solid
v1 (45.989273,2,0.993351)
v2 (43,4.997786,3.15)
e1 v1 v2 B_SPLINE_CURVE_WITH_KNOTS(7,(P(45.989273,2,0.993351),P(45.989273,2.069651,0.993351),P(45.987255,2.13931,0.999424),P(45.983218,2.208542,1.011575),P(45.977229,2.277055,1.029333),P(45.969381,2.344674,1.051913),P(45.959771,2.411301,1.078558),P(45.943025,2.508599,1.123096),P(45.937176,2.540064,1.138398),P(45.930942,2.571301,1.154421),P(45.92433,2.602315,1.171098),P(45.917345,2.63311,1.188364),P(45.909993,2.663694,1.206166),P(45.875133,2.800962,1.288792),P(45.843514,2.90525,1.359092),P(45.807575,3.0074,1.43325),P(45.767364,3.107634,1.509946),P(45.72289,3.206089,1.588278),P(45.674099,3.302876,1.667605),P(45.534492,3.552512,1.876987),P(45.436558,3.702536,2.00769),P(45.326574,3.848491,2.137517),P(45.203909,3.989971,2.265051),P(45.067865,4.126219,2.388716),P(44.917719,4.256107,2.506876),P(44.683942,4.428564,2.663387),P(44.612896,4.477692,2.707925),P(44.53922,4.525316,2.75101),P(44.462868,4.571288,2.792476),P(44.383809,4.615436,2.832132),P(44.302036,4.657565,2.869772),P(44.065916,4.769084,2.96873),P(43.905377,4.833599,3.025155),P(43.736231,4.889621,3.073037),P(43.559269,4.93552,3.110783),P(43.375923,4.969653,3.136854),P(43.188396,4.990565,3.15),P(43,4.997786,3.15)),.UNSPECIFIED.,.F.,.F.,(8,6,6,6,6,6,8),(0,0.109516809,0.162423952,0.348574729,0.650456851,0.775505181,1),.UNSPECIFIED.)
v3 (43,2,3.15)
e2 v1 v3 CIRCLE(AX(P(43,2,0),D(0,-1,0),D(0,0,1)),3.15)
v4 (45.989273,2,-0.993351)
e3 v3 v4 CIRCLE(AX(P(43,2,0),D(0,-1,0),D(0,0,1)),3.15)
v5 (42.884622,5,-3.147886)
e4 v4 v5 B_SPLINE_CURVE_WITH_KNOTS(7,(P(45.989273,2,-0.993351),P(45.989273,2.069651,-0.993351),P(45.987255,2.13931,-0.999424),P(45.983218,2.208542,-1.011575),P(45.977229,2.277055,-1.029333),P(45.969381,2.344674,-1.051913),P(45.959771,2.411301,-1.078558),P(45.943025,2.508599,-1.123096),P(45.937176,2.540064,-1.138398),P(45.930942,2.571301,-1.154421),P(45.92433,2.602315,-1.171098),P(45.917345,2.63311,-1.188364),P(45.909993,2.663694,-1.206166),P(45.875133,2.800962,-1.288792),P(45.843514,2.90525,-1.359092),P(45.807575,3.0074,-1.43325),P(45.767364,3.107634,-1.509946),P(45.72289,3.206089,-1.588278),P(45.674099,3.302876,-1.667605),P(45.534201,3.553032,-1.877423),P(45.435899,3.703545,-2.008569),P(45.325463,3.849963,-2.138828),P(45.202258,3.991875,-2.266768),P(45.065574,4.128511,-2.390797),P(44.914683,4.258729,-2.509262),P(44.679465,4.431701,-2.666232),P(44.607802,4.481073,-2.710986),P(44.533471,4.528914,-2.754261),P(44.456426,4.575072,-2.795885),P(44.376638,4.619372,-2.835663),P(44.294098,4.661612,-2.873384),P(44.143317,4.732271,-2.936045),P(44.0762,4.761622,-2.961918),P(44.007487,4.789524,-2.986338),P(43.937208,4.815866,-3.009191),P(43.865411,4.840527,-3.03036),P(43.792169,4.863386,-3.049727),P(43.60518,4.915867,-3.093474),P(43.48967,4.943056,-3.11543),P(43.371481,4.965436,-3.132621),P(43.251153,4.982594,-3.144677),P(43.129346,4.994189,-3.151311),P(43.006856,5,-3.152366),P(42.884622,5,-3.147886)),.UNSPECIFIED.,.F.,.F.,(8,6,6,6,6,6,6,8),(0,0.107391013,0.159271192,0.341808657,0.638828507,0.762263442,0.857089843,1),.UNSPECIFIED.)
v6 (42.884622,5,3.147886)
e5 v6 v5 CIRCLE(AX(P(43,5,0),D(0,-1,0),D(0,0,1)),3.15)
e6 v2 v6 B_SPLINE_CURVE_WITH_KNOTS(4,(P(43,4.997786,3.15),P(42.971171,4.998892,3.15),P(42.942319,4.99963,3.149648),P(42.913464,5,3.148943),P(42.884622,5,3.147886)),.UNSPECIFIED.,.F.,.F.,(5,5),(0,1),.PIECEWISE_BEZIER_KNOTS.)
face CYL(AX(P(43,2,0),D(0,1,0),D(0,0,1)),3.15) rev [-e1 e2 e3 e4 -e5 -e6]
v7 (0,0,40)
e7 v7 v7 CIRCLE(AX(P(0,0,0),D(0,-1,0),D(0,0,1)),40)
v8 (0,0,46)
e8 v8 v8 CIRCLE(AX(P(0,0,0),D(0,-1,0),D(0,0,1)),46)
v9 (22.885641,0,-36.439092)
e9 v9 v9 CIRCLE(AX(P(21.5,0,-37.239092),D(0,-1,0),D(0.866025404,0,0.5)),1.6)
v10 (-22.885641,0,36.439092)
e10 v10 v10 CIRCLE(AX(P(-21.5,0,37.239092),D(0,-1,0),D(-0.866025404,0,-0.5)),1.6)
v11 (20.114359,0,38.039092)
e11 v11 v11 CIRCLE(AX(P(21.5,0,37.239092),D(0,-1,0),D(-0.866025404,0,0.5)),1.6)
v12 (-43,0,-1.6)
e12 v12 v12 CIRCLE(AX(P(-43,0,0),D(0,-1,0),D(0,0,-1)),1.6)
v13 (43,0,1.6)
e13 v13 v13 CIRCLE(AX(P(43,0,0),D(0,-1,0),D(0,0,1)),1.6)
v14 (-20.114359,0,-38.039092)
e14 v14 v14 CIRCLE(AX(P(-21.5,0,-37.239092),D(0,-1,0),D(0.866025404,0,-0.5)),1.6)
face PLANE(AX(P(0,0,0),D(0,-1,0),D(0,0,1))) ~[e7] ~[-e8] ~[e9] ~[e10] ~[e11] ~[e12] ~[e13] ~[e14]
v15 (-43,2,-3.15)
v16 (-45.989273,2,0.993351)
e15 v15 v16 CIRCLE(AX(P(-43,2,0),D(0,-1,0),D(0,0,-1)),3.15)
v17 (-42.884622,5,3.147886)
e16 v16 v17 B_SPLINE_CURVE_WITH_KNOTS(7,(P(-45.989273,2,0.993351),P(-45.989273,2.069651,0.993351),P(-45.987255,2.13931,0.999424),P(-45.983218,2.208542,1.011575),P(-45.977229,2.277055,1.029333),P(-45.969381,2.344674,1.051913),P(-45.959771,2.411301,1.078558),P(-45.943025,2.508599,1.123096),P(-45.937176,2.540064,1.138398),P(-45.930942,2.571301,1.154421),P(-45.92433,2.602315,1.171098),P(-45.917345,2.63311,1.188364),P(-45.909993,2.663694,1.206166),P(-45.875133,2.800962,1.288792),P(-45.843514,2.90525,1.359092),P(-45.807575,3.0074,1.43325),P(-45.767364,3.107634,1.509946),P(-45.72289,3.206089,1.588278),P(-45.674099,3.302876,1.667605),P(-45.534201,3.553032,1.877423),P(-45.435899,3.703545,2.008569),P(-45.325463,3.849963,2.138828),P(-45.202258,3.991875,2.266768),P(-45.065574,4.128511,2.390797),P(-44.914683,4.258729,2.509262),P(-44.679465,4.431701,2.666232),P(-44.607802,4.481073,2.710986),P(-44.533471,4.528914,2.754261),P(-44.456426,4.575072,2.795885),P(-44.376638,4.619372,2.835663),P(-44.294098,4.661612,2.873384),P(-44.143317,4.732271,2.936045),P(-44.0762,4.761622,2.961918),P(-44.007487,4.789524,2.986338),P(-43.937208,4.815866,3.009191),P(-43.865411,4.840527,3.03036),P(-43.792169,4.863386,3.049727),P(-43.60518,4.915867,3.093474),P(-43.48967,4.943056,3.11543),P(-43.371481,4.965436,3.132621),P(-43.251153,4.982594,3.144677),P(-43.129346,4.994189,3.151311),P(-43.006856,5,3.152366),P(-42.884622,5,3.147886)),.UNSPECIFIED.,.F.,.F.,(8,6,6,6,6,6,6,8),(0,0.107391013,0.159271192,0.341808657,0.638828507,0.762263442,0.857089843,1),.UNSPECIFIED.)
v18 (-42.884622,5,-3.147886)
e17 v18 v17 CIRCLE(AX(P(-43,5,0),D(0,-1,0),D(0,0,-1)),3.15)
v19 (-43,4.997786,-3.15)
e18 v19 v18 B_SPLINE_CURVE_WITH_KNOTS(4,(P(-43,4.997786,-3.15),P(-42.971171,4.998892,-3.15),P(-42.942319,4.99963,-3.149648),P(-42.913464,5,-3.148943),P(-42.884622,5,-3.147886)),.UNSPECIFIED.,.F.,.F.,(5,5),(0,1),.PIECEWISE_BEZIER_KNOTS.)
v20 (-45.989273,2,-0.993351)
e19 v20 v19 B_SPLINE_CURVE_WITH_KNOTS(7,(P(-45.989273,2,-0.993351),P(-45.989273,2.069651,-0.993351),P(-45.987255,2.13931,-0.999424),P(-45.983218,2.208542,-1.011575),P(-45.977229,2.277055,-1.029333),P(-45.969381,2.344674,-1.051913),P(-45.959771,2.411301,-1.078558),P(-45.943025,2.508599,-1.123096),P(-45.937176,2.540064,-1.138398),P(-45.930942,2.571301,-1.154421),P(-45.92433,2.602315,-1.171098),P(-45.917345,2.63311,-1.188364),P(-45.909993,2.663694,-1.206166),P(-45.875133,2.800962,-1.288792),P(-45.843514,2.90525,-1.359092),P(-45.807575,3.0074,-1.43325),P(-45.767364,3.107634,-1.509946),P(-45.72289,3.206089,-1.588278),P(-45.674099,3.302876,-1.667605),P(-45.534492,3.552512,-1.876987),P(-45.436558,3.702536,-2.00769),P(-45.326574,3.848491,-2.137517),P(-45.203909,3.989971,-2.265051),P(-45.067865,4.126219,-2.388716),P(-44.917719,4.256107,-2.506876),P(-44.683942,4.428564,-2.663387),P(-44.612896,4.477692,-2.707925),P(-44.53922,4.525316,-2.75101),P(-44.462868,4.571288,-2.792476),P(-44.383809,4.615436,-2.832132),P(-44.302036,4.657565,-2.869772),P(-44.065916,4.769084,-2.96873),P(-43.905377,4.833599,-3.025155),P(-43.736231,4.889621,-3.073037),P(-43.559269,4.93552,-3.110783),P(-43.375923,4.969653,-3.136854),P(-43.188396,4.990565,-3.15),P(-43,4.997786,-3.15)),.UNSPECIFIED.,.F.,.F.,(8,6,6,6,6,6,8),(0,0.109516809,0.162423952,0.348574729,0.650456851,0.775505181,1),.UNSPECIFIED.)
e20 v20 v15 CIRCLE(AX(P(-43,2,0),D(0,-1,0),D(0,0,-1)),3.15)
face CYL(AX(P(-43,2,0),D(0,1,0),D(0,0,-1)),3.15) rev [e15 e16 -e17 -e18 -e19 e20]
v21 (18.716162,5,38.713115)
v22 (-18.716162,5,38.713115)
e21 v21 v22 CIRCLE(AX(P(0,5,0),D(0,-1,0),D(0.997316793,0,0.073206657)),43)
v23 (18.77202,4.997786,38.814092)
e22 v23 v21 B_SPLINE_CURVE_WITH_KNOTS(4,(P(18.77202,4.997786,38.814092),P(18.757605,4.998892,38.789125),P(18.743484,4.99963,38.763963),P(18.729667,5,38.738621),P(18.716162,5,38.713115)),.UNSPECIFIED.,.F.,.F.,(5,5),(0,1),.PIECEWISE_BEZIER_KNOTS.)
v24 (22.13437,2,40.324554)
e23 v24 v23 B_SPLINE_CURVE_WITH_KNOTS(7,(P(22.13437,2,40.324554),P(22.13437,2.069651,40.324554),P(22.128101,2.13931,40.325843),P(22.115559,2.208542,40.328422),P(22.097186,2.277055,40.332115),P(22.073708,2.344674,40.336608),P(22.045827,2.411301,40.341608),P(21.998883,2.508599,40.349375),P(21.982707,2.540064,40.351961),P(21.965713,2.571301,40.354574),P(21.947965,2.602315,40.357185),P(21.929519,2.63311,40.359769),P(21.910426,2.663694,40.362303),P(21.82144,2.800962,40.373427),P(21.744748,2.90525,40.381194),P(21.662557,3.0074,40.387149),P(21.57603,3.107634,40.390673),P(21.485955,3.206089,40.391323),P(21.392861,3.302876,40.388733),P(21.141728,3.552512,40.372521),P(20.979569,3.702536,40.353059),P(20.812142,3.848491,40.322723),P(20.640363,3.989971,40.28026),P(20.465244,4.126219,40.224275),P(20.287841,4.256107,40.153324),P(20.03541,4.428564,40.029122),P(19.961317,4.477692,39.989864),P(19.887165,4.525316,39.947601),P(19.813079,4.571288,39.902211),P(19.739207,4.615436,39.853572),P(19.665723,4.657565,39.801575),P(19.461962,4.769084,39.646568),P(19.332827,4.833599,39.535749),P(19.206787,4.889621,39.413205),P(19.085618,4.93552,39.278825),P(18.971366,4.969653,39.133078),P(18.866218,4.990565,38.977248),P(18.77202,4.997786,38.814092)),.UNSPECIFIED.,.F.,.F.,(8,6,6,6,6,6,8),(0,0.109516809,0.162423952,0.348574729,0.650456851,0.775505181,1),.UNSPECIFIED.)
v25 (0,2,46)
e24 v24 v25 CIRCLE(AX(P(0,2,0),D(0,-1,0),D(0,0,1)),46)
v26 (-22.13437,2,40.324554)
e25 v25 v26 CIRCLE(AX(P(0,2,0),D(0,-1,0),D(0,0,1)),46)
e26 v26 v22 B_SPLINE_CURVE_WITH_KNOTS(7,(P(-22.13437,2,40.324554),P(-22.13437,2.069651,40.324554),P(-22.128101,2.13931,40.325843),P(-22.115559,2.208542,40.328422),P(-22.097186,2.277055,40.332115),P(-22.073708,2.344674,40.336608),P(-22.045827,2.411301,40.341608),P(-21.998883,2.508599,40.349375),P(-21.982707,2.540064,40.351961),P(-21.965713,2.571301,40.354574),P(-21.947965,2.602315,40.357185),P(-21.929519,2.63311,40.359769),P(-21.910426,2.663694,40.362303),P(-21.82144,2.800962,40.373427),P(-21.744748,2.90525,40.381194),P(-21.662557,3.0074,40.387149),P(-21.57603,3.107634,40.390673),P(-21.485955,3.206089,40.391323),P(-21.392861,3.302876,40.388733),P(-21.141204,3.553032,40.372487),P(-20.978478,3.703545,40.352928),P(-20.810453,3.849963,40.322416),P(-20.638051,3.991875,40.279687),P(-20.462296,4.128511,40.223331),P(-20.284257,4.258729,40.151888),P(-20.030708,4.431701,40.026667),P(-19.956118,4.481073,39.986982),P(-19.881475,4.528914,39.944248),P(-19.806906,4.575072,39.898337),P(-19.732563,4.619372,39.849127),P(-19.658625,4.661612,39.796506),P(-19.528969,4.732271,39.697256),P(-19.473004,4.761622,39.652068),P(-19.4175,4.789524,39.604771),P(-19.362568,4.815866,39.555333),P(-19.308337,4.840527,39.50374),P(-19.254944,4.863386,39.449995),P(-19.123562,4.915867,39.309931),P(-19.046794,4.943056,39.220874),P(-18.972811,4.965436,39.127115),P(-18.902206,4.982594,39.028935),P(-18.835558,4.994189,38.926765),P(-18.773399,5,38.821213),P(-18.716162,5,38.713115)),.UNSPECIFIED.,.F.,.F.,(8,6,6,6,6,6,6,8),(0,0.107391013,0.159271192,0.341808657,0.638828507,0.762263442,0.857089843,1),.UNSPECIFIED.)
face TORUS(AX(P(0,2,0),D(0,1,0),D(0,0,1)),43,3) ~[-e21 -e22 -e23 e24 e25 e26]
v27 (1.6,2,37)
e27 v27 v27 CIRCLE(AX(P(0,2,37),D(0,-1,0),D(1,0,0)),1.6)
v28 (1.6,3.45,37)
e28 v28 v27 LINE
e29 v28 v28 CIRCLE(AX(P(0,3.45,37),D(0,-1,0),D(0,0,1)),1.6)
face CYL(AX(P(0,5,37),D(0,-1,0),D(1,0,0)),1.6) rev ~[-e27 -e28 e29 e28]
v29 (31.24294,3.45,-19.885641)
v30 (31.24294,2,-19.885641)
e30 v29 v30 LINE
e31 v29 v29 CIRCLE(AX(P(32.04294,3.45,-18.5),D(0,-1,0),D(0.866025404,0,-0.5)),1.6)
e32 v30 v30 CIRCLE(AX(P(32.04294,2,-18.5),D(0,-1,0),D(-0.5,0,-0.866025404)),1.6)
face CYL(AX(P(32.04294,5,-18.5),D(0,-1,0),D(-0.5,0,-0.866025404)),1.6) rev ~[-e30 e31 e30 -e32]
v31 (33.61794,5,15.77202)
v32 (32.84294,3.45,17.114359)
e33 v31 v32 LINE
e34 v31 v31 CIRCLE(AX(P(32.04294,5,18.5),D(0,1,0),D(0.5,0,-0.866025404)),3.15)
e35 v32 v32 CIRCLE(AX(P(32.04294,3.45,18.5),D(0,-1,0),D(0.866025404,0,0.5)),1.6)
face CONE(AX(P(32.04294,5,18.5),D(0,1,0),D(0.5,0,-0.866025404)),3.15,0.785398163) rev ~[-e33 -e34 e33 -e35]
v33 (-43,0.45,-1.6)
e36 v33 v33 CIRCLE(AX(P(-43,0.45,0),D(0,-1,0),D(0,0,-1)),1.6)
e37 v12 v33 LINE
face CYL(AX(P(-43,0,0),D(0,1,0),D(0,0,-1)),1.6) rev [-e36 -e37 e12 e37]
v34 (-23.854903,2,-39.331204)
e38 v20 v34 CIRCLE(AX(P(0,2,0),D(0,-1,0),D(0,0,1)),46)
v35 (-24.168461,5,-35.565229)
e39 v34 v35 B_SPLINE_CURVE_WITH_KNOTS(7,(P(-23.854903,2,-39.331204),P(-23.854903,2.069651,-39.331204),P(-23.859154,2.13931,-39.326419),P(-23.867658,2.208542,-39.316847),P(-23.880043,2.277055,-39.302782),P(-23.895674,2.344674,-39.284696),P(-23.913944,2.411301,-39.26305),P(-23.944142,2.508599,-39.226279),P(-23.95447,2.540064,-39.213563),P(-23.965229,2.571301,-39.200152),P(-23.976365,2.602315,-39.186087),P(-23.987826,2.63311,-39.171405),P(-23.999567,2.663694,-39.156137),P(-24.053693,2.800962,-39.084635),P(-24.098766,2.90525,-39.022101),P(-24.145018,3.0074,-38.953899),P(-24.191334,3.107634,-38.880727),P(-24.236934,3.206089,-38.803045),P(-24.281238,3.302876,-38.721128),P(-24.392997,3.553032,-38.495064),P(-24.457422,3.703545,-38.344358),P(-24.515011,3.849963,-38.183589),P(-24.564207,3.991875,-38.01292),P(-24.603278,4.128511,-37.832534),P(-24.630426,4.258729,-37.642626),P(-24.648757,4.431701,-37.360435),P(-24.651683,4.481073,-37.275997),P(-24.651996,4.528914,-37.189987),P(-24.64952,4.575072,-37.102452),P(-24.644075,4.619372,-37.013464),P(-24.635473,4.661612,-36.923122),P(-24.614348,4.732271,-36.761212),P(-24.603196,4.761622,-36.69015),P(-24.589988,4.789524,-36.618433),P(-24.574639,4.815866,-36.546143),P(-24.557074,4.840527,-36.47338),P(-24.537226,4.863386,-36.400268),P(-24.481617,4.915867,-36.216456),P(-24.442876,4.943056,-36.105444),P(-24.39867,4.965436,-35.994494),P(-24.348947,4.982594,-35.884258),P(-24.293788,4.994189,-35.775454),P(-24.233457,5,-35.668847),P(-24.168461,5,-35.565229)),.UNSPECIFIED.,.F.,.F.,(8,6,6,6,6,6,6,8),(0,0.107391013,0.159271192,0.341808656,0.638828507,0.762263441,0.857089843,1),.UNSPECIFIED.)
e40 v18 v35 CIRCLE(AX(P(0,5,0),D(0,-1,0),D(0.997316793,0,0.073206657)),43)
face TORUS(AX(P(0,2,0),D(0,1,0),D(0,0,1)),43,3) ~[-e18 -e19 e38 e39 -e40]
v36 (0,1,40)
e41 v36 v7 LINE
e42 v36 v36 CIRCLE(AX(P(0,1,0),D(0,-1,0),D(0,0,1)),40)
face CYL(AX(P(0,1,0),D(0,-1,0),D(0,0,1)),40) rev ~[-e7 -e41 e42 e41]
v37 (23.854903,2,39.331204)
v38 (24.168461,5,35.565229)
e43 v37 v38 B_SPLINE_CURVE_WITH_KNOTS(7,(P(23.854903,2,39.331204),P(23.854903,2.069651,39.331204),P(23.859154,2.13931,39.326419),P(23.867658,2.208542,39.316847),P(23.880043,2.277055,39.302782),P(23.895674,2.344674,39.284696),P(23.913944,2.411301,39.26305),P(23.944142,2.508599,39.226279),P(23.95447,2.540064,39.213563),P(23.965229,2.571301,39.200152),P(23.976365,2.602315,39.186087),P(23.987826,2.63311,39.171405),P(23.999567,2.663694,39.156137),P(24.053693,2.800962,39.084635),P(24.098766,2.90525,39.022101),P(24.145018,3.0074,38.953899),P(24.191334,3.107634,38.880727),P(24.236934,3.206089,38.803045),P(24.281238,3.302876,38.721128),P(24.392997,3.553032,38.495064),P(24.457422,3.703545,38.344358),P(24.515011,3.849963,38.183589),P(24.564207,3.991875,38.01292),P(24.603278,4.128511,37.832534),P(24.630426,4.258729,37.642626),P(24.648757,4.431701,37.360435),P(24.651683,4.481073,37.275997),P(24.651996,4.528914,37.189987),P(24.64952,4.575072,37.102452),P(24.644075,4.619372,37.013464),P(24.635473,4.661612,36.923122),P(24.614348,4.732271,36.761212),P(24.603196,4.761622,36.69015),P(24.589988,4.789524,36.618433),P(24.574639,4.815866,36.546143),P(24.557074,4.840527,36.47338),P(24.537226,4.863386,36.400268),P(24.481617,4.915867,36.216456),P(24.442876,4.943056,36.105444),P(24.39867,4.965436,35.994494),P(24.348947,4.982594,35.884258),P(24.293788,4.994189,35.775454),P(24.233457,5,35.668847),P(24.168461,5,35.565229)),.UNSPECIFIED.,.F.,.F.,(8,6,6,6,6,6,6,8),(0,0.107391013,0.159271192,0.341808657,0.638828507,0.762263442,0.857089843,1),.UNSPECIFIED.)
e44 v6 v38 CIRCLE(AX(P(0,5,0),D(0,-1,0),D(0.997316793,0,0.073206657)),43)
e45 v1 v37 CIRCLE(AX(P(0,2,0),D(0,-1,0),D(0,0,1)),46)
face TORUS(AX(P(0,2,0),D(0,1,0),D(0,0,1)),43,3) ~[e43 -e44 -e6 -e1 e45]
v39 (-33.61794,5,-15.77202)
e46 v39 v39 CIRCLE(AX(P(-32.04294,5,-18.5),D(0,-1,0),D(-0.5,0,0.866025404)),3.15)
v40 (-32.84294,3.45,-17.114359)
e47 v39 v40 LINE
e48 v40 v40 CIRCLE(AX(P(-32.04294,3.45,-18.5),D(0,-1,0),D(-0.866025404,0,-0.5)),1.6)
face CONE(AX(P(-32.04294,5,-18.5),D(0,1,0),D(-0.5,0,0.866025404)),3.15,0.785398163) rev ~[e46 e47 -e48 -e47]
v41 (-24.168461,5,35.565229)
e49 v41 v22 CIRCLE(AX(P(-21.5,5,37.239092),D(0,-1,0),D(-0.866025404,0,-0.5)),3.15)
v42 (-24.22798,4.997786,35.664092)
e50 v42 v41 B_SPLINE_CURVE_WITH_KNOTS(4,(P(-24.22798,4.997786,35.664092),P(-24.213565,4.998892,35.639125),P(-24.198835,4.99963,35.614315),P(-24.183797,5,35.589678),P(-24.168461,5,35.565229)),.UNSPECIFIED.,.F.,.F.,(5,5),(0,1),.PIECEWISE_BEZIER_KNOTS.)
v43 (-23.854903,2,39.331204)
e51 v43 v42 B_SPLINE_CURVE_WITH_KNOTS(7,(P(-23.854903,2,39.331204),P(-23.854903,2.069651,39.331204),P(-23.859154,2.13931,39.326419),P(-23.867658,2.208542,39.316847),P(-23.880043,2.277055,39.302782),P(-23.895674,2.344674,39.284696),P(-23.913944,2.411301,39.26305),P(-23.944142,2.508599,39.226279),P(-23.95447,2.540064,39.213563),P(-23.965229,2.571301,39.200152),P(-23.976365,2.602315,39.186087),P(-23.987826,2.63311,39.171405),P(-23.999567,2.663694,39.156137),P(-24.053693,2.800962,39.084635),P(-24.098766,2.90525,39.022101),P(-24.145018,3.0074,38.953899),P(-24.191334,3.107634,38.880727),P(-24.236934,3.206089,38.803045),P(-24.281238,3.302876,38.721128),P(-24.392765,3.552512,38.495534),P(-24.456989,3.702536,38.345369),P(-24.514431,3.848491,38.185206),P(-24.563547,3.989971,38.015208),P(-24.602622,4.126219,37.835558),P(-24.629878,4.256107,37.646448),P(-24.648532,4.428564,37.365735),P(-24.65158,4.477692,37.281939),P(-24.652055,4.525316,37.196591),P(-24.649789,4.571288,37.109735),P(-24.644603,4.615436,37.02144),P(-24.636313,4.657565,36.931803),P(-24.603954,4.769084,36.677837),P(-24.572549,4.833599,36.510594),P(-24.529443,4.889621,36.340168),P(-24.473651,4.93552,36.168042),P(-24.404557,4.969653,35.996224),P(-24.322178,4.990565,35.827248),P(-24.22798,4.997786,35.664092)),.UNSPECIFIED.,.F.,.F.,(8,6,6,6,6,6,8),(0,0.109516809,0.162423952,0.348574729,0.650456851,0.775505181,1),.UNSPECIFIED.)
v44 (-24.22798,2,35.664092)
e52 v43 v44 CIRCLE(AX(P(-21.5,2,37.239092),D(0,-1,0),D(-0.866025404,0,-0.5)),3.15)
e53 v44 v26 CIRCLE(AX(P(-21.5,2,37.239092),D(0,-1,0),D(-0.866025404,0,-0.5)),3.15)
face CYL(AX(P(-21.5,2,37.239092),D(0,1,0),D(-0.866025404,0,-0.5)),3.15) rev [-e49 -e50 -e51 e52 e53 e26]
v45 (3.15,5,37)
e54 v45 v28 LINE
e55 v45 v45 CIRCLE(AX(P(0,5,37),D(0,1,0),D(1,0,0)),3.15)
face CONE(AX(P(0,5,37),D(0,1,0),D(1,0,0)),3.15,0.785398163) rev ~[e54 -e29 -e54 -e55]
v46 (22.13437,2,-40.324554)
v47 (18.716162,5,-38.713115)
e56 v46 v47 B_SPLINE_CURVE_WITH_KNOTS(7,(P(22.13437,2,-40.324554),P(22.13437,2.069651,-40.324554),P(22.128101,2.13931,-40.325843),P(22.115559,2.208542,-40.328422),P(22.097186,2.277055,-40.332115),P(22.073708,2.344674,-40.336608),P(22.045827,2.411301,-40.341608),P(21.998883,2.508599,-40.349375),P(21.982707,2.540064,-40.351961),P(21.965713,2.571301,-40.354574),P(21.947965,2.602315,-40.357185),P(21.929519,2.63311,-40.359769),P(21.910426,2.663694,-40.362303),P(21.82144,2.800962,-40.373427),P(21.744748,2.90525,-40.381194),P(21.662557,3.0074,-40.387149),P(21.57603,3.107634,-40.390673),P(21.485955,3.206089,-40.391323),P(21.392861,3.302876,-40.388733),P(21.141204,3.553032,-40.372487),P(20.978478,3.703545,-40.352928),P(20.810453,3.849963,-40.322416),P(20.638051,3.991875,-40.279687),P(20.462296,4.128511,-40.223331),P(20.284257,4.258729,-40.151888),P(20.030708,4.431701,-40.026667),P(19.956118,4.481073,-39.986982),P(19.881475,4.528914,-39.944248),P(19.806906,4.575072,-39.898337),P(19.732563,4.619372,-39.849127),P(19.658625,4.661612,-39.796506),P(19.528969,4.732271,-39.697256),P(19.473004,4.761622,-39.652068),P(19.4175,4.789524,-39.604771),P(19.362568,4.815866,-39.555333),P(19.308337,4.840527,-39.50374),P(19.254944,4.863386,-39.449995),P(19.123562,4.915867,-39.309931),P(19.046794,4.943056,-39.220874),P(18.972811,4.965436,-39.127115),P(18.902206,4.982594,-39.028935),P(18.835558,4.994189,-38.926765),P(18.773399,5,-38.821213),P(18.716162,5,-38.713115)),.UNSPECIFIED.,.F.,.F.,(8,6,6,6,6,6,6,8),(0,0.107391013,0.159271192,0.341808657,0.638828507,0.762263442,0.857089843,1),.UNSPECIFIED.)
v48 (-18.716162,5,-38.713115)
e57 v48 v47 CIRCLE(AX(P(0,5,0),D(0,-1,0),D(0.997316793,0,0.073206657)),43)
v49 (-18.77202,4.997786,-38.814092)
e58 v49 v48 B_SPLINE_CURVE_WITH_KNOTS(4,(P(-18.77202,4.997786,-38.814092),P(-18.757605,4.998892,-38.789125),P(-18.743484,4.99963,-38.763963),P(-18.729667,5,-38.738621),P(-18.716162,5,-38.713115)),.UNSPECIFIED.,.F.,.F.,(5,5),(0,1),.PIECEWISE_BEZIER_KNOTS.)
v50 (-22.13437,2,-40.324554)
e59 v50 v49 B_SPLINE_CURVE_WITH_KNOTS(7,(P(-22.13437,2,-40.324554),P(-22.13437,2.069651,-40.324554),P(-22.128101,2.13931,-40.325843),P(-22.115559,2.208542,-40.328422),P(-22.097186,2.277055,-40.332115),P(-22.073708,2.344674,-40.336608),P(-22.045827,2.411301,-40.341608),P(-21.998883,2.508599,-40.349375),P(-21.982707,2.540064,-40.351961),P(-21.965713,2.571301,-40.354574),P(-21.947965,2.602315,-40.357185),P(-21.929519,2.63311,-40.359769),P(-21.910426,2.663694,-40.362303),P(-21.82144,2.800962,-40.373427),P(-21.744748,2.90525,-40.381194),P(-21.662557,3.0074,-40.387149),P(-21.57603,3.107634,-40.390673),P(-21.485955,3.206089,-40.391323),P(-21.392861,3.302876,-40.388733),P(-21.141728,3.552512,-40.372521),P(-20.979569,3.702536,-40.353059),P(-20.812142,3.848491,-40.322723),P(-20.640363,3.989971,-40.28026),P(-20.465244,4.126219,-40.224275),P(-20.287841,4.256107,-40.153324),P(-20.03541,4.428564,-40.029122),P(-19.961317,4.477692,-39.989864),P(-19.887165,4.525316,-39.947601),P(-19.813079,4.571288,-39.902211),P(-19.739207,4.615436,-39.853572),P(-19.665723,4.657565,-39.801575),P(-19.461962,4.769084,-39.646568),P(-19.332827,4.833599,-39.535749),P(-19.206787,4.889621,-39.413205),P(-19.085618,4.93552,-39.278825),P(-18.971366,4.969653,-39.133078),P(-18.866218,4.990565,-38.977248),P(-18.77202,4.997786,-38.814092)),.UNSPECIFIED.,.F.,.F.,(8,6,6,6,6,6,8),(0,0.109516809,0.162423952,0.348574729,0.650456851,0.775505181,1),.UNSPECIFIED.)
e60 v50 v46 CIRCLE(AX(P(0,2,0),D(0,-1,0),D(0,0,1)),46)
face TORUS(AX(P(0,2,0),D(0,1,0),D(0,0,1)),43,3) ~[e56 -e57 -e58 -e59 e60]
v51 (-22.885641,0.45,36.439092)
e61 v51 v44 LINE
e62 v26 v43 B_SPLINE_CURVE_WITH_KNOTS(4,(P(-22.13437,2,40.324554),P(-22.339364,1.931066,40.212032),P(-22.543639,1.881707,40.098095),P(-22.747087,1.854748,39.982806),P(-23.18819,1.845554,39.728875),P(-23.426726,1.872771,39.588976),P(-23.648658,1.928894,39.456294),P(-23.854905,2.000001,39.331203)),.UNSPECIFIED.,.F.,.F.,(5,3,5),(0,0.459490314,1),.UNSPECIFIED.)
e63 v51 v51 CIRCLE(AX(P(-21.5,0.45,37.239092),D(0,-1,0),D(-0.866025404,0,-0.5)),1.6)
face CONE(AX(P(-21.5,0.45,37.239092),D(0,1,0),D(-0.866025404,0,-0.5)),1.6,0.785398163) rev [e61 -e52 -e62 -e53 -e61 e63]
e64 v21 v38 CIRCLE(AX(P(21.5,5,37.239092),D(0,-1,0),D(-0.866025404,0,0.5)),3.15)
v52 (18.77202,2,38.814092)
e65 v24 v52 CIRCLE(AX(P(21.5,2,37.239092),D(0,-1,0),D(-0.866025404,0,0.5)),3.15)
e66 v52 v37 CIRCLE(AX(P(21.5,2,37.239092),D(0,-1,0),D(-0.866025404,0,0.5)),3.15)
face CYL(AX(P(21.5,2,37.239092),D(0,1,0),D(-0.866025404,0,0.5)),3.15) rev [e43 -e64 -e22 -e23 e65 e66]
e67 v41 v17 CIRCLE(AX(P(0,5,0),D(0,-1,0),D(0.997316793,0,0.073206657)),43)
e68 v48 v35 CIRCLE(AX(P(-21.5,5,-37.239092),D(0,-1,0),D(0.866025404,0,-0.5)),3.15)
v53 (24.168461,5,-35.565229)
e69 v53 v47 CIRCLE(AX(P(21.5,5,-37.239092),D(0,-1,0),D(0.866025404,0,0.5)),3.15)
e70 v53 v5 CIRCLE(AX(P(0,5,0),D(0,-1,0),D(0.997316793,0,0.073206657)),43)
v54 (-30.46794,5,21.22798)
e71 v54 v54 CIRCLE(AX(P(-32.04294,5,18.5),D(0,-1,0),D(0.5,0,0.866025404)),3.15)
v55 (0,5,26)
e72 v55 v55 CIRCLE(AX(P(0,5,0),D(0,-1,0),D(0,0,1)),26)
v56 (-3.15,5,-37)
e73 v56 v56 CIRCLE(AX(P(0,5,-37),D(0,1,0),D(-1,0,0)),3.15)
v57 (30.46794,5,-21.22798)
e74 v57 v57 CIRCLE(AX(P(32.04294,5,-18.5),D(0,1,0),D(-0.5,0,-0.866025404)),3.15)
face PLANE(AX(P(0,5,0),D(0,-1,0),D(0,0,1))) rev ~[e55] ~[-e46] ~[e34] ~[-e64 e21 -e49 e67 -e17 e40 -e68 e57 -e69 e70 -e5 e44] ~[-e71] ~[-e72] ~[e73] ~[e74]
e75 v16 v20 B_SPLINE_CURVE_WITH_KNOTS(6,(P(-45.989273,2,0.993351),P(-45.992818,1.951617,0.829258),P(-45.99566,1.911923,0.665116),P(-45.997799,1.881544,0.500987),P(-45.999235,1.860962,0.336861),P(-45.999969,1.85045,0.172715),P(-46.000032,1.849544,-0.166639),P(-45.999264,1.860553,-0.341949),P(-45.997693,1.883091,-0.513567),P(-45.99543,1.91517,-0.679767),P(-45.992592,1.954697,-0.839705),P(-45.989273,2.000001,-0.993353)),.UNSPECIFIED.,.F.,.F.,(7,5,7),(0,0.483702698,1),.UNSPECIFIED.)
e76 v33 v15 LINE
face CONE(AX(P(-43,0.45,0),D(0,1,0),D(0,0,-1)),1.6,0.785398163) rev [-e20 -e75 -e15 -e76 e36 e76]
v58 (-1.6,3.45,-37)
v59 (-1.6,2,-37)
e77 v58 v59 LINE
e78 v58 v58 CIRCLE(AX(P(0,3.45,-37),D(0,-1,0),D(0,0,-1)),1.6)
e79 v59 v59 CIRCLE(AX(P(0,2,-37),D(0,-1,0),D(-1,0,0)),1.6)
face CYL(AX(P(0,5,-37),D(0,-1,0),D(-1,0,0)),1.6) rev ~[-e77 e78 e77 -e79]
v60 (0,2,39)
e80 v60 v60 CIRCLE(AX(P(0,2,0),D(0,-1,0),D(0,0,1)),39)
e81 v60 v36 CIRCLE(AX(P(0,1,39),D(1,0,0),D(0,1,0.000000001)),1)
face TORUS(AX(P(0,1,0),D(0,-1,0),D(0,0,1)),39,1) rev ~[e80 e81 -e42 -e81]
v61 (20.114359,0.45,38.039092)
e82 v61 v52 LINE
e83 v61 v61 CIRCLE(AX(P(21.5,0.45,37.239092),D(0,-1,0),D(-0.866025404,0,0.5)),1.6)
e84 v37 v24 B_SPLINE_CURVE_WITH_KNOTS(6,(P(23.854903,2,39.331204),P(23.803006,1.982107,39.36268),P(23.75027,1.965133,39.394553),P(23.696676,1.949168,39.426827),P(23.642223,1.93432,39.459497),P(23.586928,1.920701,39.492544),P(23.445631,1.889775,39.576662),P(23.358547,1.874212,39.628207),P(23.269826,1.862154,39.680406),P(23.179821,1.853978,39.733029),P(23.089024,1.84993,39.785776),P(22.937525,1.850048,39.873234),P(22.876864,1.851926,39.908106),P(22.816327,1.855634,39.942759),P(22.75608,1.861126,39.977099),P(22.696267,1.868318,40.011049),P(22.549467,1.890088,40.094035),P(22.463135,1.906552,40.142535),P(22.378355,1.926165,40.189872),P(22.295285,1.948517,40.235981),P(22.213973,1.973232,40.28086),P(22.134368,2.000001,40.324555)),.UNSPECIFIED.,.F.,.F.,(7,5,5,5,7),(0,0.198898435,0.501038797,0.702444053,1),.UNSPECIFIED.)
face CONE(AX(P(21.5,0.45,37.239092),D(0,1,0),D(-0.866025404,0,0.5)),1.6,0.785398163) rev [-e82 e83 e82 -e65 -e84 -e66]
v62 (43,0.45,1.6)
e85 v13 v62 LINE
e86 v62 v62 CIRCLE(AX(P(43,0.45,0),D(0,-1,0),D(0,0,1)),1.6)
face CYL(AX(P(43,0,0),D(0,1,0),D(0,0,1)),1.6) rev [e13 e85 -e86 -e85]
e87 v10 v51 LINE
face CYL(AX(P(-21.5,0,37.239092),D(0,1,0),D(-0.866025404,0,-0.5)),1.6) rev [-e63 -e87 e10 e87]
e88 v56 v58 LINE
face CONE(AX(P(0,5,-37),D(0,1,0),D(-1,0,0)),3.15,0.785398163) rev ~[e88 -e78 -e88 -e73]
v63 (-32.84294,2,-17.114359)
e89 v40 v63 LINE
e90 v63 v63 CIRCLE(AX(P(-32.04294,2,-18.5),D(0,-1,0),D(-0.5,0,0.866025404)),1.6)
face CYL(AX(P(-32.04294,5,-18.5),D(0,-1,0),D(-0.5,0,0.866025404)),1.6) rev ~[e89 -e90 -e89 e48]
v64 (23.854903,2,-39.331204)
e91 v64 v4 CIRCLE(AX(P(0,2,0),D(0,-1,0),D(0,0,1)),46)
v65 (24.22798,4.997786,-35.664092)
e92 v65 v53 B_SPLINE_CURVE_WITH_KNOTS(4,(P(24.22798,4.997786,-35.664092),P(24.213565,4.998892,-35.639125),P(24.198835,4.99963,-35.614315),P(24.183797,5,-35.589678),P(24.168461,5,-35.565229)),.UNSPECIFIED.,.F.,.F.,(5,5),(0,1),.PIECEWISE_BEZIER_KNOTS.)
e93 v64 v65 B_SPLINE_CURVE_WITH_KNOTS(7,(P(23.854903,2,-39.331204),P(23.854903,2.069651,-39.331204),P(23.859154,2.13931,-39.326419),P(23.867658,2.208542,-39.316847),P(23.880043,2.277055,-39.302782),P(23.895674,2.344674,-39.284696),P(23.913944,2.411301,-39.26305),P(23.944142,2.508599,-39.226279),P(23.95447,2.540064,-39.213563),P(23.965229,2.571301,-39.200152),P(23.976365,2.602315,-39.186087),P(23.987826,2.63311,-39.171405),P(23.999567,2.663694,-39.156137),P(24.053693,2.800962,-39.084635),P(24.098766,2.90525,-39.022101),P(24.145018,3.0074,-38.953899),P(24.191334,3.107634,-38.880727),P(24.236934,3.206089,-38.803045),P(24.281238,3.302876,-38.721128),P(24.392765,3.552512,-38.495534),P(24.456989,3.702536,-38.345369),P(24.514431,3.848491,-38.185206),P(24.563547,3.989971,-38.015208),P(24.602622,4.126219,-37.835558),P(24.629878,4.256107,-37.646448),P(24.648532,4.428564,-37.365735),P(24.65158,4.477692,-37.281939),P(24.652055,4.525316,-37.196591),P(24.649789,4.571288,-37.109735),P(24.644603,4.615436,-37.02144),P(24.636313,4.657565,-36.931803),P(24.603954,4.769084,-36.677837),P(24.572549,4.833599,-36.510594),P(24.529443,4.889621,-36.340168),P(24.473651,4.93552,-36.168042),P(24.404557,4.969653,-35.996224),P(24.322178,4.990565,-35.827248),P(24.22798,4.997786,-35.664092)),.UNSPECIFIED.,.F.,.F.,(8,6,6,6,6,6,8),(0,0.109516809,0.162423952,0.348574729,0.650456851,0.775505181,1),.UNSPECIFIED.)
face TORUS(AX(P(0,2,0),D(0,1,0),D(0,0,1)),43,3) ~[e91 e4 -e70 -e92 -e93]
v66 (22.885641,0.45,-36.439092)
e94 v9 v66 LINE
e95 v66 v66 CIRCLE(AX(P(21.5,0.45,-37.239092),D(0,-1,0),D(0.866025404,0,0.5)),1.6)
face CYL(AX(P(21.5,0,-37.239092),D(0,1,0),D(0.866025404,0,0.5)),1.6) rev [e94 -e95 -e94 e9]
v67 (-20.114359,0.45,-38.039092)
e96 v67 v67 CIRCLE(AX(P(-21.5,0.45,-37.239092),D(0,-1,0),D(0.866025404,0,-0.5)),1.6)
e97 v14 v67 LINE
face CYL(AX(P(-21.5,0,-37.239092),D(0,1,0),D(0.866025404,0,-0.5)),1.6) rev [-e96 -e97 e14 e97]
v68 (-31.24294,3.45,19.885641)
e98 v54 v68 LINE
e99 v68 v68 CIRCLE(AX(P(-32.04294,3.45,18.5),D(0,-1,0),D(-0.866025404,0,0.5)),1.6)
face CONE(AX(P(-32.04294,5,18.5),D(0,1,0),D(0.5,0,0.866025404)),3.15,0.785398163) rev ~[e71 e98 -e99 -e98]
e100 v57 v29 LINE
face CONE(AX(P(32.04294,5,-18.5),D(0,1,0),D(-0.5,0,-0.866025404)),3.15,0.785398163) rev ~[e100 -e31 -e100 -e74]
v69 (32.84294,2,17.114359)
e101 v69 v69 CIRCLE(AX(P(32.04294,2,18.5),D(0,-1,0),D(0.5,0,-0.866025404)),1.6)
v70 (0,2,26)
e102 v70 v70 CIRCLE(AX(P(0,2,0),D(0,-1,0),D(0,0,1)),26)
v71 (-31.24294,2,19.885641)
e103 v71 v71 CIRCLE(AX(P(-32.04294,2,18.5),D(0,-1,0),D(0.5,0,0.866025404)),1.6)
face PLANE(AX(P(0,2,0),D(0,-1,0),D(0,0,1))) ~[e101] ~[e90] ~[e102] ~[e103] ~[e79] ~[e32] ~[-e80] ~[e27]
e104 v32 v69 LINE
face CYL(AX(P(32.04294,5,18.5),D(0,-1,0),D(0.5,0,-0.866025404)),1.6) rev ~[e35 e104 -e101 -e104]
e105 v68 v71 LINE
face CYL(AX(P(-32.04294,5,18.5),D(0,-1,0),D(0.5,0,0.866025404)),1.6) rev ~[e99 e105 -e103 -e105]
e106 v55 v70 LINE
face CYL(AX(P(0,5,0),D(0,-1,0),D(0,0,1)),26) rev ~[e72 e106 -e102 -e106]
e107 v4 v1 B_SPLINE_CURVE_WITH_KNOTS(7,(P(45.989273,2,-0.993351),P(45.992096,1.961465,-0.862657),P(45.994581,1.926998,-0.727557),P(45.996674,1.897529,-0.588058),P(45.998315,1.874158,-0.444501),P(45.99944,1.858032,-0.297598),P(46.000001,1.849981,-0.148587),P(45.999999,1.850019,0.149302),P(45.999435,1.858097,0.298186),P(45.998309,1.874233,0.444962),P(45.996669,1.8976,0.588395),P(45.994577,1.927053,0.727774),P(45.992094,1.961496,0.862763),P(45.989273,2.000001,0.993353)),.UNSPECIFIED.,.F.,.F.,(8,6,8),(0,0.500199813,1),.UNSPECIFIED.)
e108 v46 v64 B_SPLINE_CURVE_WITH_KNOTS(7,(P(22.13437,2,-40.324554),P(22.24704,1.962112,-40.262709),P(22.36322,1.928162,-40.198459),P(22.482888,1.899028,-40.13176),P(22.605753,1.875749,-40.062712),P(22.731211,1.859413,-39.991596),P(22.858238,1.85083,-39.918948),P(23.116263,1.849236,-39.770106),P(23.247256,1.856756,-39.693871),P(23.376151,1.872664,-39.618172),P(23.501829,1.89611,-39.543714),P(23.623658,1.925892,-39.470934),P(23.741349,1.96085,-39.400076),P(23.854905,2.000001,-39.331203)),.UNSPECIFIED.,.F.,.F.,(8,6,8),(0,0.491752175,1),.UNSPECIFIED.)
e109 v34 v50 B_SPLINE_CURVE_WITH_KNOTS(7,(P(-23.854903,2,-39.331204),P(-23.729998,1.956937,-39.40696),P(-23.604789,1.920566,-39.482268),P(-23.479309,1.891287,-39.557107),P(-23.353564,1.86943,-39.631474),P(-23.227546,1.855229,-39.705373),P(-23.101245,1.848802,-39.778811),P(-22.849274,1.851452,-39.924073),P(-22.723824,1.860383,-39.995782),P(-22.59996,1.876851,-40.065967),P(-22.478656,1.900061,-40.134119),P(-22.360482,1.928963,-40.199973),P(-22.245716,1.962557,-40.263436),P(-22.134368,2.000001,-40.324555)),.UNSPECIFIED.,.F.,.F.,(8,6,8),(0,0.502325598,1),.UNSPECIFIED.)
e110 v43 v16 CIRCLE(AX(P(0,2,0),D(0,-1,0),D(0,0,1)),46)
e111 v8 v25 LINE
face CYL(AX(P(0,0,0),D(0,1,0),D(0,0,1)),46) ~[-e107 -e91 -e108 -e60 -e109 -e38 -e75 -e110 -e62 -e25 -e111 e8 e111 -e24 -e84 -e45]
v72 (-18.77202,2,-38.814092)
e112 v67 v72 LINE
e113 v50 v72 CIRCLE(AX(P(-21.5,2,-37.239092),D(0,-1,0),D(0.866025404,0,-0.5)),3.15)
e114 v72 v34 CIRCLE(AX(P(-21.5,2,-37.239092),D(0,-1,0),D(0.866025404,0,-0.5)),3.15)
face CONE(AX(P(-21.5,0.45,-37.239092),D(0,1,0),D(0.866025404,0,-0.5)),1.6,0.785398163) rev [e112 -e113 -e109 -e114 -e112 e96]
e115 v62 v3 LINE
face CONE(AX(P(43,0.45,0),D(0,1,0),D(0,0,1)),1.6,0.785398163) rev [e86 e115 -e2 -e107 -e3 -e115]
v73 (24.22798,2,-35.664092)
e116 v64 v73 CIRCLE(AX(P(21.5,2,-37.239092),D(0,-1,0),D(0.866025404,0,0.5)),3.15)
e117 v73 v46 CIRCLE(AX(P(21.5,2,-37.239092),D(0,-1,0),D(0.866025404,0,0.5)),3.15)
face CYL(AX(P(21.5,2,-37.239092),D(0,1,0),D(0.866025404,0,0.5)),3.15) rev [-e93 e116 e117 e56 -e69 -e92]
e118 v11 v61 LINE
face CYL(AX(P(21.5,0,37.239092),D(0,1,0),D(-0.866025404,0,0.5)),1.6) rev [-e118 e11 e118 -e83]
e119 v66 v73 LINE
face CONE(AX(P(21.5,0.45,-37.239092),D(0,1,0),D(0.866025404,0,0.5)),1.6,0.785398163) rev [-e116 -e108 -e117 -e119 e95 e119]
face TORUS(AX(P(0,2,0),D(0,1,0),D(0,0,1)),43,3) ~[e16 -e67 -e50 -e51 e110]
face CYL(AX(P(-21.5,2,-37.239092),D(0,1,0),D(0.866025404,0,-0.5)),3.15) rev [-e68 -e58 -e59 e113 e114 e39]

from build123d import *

# Parameters (mm, degrees)
CIRPATTERN1_COUNT                                   = 6
CSK_FOR_M3_COUNTERSUNK_FLAT_HEAD_SCREW2_D           = 3.2
CSK_FOR_M3_COUNTERSUNK_FLAT_HEAD_SCREW2_CSINK_D     = 6.3
CSK_FOR_M3_COUNTERSUNK_FLAT_HEAD_SCREW2_CSINK_ANGLE = 90
CIRPATTERN2_COUNT                                   = 6


with BuildPart() as part:
    # Sketch1 → Revolve1 (revolve)
    with BuildSketch(Plane.XY, mode=Mode.PRIVATE) as revolve1_sk:
        with BuildLine():
            Line((40, 1), (40, 0))
            Line((40, 0), (46, 0))
            Line((46, 0), (46, 2))
            ThreePointArc((46, 2), (45.121320344, 4.121320344), (43, 5))
            Line((43, 5), (26, 5))
            Line((26, 5), (26, 2))
            Line((26, 2), (39, 2))
            ThreePointArc((39, 2), (39.707106781, 1.707106781), (40, 1))
        make_face()
    revolve(revolve1_sk.sketch.rotate(Axis((0, 96.254, 0), (0, -1, 0)), 90), axis=Axis((0, 96.254, 0), (0, -1, 0)))

    # Sketch3 → CSK for M3 Countersunk Flat Head Screw1 (revolve, cut)
    with BuildSketch(Plane(origin=(43, 5, 0), x_dir=(0, 0, 1), z_dir=(1, 0, 0))):
        Polygon((0, 0), (0, 5), (1.6, 5), (1.6, 4.55), (3.15, 3), (3.15, 0), align=None)
    csk_for_m3_countersunk_flat_head_screw1 = revolve(axis=Axis((43, 11.35, 0), (0, -1, 0)), mode=Mode.SUBTRACT)

    # CirPattern1: CSK for M3 Countersunk Flat Head Screw1 ×6 about axis
    cirpattern1_axis = Axis((0, 0, 0), (0, 1, 0))
    for i in range(1, CIRPATTERN1_COUNT):
        add(csk_for_m3_countersunk_flat_head_screw1.rotate(cirpattern1_axis, i * 360 / CIRPATTERN1_COUNT), mode=Mode.SUBTRACT)

    # CSK for M3 Countersunk Flat Head Screw2 (through all)
    with Locations(Plane(origin=(0, 5, 0), x_dir=(1, 0, 0), z_dir=(0, 1, 0))):
        with Locations((0, 37)):
            csk_for_m3_countersunk_flat_head_screw2 = CounterSinkHole(CSK_FOR_M3_COUNTERSUNK_FLAT_HEAD_SCREW2_D / 2, CSK_FOR_M3_COUNTERSUNK_FLAT_HEAD_SCREW2_CSINK_D / 2, counter_sink_angle=CSK_FOR_M3_COUNTERSUNK_FLAT_HEAD_SCREW2_CSINK_ANGLE)

    # CirPattern2: CSK for M3 Countersunk Flat Head Screw2 ×6 about axis
    cirpattern2_axis = Axis((0, 0, 0), (0, 1, 0))
    for i in range(1, CIRPATTERN2_COUNT):
        add(csk_for_m3_countersunk_flat_head_screw2.rotate(cirpattern2_axis, i * 360 / CIRPATTERN2_COUNT), mode=Mode.SUBTRACT)


solid = part.part
